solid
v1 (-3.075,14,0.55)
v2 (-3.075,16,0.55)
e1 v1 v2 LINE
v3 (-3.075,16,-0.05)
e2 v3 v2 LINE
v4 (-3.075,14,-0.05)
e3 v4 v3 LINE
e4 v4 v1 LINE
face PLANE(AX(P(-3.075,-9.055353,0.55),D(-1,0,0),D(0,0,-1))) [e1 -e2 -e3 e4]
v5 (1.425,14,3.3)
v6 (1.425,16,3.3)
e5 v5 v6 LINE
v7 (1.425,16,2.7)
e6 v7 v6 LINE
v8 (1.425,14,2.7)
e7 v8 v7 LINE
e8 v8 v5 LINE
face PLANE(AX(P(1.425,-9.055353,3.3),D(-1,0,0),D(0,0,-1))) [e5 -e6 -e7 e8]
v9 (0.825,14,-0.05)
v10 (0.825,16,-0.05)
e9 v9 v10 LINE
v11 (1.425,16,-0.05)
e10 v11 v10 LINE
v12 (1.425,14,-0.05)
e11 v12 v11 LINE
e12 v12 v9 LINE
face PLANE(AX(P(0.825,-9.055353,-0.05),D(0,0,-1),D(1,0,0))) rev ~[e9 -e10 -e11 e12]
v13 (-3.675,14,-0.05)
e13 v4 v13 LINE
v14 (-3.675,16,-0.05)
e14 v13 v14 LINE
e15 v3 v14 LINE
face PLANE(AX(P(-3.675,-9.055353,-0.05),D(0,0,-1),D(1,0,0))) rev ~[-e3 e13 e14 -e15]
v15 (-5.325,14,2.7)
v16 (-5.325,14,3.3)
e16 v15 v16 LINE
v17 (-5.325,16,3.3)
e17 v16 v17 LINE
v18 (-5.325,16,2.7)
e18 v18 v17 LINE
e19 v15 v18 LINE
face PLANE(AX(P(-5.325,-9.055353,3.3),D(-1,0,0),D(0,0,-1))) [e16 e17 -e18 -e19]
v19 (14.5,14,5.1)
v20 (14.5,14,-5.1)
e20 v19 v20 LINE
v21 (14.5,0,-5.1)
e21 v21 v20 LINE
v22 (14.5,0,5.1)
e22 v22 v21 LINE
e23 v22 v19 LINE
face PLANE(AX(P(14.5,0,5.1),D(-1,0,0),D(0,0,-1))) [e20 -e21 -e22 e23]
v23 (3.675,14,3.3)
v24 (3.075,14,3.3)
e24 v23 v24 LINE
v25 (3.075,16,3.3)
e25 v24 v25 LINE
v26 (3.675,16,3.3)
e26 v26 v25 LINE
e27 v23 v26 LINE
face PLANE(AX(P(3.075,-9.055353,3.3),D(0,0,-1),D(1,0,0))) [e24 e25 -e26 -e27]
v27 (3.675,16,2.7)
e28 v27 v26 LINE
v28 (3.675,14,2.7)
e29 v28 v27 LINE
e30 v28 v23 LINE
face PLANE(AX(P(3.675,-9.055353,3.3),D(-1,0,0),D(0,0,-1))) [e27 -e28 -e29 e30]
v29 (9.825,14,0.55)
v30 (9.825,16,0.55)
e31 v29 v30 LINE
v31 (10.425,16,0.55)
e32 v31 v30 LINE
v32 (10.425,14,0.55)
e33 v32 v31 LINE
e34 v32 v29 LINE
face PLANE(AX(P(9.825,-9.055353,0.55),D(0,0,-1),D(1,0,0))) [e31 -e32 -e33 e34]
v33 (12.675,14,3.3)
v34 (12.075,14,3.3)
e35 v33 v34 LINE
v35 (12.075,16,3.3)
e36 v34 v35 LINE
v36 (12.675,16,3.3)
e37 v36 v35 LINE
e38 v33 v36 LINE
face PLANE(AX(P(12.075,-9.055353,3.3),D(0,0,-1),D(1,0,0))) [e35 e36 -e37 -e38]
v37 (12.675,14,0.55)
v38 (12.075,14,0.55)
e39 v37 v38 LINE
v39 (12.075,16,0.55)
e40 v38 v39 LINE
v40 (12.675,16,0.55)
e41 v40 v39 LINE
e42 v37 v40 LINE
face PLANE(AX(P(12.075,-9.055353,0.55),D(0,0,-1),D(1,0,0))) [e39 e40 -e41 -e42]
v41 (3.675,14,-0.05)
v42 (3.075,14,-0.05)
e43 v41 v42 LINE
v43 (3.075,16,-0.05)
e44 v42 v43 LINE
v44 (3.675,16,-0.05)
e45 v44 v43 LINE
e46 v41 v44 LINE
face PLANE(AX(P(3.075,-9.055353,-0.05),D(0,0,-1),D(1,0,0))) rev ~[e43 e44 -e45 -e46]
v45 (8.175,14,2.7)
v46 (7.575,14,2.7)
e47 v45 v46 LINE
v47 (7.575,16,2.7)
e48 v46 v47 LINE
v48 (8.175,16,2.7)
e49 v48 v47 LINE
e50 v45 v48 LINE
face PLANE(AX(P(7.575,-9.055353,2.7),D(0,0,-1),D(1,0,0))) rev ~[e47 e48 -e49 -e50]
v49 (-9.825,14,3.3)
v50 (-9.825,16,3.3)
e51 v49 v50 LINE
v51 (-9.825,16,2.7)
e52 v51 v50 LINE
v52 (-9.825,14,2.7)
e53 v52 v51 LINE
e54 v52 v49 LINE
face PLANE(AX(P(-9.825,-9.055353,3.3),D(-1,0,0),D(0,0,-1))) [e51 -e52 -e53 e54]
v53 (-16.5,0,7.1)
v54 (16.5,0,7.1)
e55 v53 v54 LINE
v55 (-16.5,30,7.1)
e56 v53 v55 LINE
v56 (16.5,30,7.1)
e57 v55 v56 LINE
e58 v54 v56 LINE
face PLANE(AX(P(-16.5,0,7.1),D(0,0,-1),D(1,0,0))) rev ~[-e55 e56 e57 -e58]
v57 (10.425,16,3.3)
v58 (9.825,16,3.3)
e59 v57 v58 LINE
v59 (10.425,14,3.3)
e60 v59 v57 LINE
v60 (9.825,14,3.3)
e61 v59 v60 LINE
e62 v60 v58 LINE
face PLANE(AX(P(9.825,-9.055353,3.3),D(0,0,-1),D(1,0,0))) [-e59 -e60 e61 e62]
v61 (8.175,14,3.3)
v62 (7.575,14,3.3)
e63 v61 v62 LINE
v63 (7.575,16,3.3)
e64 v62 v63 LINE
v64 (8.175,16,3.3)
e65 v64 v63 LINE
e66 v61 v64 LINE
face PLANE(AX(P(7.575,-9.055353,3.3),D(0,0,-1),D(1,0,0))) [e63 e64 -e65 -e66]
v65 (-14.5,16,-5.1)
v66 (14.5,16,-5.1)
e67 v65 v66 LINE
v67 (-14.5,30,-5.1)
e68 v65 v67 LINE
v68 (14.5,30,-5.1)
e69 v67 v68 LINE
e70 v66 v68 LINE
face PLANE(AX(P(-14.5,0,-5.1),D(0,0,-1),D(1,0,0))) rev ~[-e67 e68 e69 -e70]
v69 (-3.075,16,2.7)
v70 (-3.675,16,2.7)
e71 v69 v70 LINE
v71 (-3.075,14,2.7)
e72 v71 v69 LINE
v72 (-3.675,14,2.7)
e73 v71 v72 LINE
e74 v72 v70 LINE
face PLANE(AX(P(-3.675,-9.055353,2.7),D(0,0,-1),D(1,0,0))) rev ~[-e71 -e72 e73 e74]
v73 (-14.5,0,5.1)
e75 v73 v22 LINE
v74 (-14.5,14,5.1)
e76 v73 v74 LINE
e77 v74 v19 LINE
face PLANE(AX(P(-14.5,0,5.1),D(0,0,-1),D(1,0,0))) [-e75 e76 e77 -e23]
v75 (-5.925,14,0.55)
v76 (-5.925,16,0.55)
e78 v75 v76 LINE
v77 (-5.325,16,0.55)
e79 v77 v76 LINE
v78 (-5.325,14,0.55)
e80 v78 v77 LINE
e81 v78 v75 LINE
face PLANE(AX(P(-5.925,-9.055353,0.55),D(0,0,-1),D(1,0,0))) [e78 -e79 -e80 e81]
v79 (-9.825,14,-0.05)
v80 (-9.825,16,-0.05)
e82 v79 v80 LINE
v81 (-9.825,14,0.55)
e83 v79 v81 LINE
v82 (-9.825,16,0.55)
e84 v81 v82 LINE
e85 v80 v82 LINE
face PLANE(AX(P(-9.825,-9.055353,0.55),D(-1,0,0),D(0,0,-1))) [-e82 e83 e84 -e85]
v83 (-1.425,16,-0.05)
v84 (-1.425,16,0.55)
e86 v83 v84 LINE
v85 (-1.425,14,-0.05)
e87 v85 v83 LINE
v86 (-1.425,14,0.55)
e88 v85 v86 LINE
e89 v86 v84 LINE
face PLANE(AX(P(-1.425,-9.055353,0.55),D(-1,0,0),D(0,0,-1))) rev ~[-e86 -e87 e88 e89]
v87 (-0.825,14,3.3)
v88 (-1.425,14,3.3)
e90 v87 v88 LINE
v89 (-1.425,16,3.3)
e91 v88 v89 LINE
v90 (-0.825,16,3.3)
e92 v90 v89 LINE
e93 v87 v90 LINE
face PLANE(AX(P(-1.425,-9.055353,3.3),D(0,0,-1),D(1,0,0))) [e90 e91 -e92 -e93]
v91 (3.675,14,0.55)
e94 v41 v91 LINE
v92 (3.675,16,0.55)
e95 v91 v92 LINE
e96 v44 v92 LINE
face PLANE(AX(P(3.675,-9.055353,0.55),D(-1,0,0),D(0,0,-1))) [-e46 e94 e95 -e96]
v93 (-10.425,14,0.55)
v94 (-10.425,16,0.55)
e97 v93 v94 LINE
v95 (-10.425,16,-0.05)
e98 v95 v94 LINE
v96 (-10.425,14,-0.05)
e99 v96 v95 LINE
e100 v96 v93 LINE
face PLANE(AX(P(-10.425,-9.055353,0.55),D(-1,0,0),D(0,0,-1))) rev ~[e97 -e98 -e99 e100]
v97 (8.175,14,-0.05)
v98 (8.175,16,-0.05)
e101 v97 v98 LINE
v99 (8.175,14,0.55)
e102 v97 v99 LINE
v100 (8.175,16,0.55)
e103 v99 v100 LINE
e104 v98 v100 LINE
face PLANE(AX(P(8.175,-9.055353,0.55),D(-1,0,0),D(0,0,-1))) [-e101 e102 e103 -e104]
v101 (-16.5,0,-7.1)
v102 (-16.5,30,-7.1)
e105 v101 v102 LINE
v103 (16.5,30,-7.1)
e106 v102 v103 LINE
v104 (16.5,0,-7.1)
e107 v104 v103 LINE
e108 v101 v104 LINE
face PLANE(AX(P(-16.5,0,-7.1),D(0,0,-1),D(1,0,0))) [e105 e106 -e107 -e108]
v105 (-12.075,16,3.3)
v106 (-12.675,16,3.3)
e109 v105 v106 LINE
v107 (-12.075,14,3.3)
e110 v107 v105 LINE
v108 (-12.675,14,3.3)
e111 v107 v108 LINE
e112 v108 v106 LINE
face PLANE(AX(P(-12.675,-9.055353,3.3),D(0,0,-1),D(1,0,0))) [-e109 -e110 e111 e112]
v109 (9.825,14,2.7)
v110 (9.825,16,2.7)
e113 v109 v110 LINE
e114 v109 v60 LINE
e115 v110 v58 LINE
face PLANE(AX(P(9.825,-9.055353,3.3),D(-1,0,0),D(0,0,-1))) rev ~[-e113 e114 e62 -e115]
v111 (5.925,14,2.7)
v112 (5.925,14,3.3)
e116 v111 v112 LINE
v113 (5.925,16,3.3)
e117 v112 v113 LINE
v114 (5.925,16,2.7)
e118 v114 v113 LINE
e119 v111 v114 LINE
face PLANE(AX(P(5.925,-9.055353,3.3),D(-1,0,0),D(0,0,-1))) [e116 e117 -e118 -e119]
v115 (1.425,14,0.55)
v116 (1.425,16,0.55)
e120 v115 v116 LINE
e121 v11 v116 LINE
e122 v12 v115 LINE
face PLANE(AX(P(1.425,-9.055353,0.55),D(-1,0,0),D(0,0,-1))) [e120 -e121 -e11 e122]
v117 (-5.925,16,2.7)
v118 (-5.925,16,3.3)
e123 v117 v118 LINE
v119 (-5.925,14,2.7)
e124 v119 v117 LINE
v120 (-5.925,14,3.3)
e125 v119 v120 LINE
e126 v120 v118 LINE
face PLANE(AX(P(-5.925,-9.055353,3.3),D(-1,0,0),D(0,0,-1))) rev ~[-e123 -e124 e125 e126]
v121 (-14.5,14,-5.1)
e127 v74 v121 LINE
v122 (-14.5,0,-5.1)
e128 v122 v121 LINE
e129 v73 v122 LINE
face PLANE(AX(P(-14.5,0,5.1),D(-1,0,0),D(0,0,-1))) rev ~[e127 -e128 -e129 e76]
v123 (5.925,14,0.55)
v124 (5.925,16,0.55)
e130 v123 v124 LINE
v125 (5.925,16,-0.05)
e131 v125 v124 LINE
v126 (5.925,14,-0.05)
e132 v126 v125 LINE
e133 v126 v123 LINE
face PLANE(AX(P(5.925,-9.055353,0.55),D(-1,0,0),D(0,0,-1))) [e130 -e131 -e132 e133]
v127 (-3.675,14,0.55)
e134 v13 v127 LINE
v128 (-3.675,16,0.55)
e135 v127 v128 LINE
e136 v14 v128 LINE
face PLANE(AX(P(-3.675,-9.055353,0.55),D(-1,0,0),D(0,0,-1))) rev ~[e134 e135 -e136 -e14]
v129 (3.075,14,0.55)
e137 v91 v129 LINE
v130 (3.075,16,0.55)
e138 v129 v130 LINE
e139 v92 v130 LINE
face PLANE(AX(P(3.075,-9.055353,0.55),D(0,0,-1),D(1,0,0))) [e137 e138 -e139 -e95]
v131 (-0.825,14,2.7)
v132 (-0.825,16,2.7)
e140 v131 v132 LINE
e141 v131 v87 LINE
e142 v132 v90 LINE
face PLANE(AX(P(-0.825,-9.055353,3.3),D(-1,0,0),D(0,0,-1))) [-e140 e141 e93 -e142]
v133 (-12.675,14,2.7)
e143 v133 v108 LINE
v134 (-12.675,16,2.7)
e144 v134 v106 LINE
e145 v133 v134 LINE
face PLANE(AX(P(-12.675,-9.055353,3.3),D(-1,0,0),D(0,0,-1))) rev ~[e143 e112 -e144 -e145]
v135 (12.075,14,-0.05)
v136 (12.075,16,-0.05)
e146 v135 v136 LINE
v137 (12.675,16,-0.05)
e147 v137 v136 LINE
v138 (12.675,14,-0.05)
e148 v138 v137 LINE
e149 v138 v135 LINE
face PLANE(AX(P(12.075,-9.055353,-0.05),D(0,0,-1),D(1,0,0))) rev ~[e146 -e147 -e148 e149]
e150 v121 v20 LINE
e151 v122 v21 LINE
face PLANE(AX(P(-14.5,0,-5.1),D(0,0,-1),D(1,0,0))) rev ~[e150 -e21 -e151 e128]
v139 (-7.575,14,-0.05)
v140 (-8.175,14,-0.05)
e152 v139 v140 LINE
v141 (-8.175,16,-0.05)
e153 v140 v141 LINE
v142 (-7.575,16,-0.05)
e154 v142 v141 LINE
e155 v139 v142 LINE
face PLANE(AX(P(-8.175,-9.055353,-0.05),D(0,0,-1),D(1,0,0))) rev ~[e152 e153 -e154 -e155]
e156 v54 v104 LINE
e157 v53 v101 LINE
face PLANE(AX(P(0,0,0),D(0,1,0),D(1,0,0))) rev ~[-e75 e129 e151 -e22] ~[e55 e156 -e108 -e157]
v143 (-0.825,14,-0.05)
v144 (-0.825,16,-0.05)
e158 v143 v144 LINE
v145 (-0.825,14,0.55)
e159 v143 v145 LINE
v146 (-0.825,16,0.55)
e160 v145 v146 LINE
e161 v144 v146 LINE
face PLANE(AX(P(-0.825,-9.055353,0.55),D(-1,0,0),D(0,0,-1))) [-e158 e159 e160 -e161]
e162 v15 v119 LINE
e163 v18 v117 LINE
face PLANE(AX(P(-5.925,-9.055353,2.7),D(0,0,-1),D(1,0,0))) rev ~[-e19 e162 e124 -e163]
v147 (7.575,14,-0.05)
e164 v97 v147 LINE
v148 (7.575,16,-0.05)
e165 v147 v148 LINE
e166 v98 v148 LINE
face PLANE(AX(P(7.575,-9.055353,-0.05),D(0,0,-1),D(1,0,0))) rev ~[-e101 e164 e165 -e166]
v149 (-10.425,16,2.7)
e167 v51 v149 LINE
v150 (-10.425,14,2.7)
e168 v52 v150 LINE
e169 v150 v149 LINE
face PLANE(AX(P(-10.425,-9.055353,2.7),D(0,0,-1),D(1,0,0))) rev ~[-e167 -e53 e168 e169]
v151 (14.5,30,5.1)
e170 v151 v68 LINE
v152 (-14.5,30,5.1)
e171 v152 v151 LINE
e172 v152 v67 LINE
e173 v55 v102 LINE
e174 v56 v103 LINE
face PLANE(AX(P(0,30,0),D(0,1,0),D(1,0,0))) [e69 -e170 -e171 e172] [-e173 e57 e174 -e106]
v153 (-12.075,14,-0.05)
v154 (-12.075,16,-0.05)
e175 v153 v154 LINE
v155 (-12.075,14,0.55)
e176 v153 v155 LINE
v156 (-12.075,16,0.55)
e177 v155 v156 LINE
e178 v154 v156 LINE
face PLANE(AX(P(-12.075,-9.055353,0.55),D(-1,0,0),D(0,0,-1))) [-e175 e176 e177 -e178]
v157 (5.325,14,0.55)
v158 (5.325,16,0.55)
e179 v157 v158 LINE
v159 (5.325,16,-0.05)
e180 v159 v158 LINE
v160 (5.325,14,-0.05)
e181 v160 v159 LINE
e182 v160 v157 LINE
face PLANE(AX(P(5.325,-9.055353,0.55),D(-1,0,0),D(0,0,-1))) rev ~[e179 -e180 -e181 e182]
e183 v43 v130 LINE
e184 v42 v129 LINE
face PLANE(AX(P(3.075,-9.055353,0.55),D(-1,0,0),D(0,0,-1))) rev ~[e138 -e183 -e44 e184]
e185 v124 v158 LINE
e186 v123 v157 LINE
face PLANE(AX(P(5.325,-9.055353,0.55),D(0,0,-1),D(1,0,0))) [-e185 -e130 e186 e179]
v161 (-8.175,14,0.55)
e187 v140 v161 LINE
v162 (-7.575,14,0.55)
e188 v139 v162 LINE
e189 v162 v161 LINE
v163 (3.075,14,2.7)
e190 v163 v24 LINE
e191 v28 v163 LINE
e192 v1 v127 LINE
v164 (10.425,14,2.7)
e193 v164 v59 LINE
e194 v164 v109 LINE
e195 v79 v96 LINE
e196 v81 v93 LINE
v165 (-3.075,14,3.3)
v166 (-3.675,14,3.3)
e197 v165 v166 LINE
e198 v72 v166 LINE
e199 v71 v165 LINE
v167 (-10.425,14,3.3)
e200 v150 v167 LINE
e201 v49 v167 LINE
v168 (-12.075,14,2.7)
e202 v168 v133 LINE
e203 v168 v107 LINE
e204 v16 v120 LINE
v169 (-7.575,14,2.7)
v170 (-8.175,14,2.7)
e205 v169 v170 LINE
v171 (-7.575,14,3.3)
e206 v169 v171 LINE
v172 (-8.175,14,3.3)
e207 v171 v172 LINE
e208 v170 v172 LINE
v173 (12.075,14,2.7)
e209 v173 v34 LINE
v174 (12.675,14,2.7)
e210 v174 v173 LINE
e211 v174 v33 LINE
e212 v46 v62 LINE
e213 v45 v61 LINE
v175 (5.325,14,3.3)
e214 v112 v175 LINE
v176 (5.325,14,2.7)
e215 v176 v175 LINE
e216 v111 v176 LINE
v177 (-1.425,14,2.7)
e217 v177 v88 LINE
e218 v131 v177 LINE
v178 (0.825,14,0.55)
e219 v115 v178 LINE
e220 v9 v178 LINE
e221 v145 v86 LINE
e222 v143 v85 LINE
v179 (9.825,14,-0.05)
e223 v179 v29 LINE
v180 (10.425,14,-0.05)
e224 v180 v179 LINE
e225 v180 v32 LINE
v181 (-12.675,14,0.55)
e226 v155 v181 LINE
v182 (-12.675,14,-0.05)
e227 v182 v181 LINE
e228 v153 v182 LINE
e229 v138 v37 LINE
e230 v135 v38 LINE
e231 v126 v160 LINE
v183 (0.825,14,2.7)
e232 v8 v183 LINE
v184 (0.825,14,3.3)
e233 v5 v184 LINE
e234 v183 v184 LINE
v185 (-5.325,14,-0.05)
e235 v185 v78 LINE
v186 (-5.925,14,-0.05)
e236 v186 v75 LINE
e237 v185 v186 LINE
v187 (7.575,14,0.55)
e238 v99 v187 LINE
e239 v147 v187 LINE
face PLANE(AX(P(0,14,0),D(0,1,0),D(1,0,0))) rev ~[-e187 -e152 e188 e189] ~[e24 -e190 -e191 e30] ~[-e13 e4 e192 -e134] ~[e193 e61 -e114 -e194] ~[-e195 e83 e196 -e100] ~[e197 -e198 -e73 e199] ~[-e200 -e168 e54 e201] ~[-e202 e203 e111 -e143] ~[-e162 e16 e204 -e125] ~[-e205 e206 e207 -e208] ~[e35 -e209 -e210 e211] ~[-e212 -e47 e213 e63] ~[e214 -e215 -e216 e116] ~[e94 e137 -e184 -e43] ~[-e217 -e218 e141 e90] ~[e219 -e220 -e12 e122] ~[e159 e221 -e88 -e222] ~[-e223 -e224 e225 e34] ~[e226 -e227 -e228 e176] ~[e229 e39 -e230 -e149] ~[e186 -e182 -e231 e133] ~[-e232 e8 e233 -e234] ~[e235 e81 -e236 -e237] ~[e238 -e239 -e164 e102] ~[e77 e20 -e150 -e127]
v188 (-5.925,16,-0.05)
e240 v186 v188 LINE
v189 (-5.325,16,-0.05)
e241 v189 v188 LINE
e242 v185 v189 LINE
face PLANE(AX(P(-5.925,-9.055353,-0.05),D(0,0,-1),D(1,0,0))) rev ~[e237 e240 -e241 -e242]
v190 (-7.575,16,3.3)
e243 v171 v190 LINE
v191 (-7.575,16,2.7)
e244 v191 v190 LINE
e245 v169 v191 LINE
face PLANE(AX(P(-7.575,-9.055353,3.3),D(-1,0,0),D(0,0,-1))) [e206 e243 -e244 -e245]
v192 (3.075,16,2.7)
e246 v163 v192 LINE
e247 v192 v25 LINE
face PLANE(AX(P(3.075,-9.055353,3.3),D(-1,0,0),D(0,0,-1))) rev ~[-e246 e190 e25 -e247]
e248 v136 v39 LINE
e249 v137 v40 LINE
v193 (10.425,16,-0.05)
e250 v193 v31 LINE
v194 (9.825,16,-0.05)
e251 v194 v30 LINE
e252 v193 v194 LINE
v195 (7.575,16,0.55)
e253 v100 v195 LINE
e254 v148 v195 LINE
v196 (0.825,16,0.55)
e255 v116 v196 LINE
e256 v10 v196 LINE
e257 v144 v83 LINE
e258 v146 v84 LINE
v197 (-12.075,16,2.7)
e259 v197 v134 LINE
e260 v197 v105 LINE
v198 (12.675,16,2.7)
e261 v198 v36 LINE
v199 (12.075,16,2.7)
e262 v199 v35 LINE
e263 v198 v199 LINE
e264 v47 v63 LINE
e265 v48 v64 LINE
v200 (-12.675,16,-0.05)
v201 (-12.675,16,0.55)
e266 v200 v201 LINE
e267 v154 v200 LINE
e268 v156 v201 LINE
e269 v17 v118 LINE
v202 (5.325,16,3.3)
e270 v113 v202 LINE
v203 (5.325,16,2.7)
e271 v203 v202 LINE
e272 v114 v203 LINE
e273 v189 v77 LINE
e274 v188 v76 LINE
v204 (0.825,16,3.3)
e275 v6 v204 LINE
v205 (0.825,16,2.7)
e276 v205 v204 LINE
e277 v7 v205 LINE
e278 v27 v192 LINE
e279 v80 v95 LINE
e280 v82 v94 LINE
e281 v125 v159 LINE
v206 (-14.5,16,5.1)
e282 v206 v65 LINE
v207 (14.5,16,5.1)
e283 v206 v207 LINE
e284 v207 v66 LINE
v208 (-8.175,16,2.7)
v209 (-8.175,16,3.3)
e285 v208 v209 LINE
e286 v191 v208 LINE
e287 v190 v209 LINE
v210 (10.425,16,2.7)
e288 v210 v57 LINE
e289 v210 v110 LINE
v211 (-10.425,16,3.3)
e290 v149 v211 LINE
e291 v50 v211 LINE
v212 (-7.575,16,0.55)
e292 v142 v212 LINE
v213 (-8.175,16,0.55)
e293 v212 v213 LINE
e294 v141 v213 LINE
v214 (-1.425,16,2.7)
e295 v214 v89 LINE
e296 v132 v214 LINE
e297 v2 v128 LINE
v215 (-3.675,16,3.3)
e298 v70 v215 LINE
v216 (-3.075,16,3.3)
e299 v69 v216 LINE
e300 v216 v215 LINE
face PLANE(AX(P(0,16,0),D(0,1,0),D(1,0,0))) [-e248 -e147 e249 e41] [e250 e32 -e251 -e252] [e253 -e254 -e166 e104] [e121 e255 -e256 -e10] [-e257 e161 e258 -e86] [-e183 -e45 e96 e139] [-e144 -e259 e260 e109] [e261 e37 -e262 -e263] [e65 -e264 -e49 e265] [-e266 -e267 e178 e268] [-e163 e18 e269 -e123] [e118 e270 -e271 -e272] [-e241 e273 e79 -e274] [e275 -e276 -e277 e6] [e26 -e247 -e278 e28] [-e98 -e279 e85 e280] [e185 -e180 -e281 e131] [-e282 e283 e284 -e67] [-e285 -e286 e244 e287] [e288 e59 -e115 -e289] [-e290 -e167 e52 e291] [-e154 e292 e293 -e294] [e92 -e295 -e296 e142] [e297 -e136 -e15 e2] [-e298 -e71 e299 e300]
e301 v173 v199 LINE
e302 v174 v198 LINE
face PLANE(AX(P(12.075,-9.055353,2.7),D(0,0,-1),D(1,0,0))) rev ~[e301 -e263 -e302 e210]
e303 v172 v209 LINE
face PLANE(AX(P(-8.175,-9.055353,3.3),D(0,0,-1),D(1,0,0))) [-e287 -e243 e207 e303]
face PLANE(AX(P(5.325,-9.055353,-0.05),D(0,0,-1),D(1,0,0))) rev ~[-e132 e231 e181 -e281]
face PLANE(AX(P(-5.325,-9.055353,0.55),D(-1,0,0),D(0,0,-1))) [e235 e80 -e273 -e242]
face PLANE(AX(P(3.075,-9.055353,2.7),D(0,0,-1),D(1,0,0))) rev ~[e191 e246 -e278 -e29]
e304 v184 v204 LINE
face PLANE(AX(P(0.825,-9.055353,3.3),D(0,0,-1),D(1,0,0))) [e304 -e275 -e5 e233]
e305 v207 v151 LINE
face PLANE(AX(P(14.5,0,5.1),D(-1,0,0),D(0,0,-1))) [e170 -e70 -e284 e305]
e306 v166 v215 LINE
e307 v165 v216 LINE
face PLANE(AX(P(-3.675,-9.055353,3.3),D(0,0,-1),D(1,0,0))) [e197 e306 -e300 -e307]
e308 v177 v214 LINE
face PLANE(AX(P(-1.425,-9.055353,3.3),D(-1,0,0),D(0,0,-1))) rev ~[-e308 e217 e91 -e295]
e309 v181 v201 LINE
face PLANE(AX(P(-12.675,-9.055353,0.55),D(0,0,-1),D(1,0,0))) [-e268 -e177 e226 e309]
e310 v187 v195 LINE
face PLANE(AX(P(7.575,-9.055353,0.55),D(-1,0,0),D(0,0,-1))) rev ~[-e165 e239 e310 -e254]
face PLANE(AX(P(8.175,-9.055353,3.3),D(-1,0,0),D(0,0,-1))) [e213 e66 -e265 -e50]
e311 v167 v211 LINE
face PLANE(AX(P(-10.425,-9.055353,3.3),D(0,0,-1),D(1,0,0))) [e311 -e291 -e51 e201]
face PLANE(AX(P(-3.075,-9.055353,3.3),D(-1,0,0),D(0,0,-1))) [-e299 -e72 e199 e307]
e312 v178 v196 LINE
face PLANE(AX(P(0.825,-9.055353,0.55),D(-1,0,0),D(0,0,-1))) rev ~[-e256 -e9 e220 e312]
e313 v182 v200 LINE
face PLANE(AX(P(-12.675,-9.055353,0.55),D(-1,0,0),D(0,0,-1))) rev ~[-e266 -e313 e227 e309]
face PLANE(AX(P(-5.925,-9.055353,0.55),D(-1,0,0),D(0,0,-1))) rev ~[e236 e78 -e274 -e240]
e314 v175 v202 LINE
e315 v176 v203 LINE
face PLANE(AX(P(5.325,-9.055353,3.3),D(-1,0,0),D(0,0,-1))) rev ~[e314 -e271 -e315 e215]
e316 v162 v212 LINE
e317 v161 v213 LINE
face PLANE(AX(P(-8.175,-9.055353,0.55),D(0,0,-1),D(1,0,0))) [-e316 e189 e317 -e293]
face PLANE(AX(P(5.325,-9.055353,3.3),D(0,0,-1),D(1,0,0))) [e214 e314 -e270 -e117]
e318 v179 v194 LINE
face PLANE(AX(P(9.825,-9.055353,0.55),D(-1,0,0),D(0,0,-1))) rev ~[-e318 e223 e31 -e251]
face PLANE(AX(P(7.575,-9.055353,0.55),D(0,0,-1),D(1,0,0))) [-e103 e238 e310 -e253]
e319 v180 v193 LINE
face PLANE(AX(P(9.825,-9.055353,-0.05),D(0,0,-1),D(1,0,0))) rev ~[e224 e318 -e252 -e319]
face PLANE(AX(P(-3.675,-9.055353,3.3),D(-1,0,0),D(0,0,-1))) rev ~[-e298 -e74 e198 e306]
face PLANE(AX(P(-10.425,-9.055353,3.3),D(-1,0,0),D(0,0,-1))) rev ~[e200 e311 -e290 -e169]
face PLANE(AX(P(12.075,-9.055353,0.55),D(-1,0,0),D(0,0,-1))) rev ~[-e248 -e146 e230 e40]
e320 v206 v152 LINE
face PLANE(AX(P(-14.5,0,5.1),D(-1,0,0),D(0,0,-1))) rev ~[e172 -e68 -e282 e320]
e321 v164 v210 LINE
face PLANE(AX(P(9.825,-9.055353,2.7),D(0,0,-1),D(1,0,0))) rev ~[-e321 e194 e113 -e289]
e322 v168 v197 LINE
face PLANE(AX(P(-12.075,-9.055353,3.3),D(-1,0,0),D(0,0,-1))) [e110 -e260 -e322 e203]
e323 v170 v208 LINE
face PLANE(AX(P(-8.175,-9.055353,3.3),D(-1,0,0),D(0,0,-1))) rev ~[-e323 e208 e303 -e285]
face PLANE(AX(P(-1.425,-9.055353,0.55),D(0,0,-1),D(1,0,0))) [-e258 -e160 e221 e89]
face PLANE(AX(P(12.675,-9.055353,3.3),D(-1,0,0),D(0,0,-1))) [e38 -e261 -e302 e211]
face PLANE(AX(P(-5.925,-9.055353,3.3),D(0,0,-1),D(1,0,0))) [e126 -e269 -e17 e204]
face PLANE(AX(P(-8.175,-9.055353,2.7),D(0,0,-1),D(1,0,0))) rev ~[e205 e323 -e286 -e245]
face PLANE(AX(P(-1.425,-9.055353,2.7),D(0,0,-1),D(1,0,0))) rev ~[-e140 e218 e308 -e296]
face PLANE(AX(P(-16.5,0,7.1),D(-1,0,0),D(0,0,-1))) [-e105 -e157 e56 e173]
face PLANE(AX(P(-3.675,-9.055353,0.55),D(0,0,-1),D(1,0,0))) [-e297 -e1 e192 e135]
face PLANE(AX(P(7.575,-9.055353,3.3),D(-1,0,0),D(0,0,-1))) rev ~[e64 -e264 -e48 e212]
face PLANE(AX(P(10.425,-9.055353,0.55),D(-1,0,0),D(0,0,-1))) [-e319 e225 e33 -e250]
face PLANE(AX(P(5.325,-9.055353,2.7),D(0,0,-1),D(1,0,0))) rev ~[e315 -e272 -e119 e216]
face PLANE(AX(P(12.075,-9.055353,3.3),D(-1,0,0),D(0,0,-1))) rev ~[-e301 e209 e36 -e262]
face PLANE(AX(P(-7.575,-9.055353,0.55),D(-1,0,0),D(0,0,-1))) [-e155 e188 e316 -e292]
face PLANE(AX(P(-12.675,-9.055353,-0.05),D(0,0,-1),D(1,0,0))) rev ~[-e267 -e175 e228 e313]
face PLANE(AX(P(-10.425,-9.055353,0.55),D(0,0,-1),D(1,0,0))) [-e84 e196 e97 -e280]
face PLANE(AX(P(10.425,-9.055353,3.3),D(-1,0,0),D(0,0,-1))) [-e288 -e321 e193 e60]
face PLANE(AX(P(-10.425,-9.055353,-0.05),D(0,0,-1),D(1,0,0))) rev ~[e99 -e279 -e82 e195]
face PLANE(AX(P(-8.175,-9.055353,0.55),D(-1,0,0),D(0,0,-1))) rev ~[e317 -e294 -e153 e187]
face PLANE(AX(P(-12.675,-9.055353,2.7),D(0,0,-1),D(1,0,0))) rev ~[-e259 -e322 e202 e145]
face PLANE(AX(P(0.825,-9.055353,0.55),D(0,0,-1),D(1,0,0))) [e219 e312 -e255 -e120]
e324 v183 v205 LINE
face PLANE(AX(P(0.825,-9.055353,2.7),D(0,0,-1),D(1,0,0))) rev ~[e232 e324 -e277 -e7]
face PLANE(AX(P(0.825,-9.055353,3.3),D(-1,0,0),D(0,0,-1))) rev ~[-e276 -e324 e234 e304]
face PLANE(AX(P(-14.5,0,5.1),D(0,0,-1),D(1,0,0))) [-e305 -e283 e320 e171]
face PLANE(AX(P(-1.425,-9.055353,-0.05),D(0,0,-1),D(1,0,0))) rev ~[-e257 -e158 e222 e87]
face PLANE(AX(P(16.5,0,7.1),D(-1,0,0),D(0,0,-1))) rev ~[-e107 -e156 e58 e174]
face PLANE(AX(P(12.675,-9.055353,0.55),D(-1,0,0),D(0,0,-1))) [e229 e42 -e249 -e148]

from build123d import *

# Parameters (mm, degrees)
SKETCH1_W               = 33
SKETCH1_H               = 14.2
SKETCH1_W_2             = 29
SKETCH1_H_2             = 10.2
BOSS_EXTRUDE1_DEPTH     = 30
BOSS_EXTRUDE2_START     = -14
SKETCH4_W               = 29
SKETCH4_H               = 10.2
BOSS_EXTRUDE2_DEPTH     = 2
CUT_EXTRUDE1_DEPTH      = 25.055352835
CUT_EXTRUDE1_DEPTH_BACK = 25.055352835
SKETCH5_W               = 0.6
SKETCH5_H               = 0.6


with BuildPart() as part:
    # Sketch1 → Boss-Extrude1 (new body)
    with BuildSketch(Plane(origin=(0, 0, 0), x_dir=(1, 0, 0), z_dir=(0, 1, 0))):
        Rectangle(SKETCH1_W, SKETCH1_H)
        Rectangle(SKETCH1_W_2, SKETCH1_H_2, mode=Mode.SUBTRACT)
    extrude(amount=BOSS_EXTRUDE1_DEPTH)

    # Sketch4 → Boss-Extrude2 (add)
    with BuildSketch(Plane(origin=(0, 30, 0), x_dir=(1, 0, 0), z_dir=(0, 1, 0)).offset(BOSS_EXTRUDE2_START)):
        Rectangle(SKETCH4_W, SKETCH4_H)
    extrude(amount=-BOSS_EXTRUDE2_DEPTH)

    # Sketch5 → Cut-Extrude1 (cut, two sides: drawn at the far end of the back side and taken through both)
    with BuildSketch(Plane(origin=(0, 16, 0), x_dir=(1, 0, 0), z_dir=(0, 1, 0)).offset(-CUT_EXTRUDE1_DEPTH_BACK)):
        with Locations((-10.125, -0.25)):
            Rectangle(SKETCH5_W, SKETCH5_H)
        with Locations((-12.375, -3)):
            Rectangle(SKETCH5_W, SKETCH5_H)
        with Locations((-12.375, -0.25)):
            Rectangle(SKETCH5_W, SKETCH5_H)
        with Locations((-10.125, -3)):
            Rectangle(SKETCH5_W, SKETCH5_H)
        with Locations((-7.875, -0.25)):
            Rectangle(SKETCH5_W, SKETCH5_H)
        with Locations((-7.875, -3)):
            Rectangle(SKETCH5_W, SKETCH5_H)
        with Locations((-5.625, -0.25)):
            Rectangle(SKETCH5_W, SKETCH5_H)
        with Locations((-5.625, -3)):
            Rectangle(SKETCH5_W, SKETCH5_H)
        with Locations((-3.375, -0.25)):
            Rectangle(SKETCH5_W, SKETCH5_H)
        with Locations((-3.375, -3)):
            Rectangle(SKETCH5_W, SKETCH5_H)
        with Locations((-1.125, -0.25)):
            Rectangle(SKETCH5_W, SKETCH5_H)
        with Locations((-1.125, -3)):
            Rectangle(SKETCH5_W, SKETCH5_H)
        with Locations((1.125, -0.25)):
            Rectangle(SKETCH5_W, SKETCH5_H)
        with Locations((1.125, -3)):
            Rectangle(SKETCH5_W, SKETCH5_H)
        with Locations((3.375, -0.25)):
            Rectangle(SKETCH5_W, SKETCH5_H)
        with Locations((3.375, -3)):
            Rectangle(SKETCH5_W, SKETCH5_H)
        with Locations((5.625, -0.25)):
            Rectangle(SKETCH5_W, SKETCH5_H)
        with Locations((5.625, -3)):
            Rectangle(SKETCH5_W, SKETCH5_H)
        with Locations((7.875, -0.25)):
            Rectangle(SKETCH5_W, SKETCH5_H)
        with Locations((7.875, -3)):
            Rectangle(SKETCH5_W, SKETCH5_H)
        with Locations((10.125, -0.25)):
            Rectangle(SKETCH5_W, SKETCH5_H)
        with Locations((10.125, -3)):
            Rectangle(SKETCH5_W, SKETCH5_H)
        with Locations((12.375, -0.25)):
            Rectangle(SKETCH5_W, SKETCH5_H)
        with Locations((12.375, -3)):
            Rectangle(SKETCH5_W, SKETCH5_H)
    extrude(amount=CUT_EXTRUDE1_DEPTH + CUT_EXTRUDE1_DEPTH_BACK, mode=Mode.SUBTRACT)


solid = part.part
